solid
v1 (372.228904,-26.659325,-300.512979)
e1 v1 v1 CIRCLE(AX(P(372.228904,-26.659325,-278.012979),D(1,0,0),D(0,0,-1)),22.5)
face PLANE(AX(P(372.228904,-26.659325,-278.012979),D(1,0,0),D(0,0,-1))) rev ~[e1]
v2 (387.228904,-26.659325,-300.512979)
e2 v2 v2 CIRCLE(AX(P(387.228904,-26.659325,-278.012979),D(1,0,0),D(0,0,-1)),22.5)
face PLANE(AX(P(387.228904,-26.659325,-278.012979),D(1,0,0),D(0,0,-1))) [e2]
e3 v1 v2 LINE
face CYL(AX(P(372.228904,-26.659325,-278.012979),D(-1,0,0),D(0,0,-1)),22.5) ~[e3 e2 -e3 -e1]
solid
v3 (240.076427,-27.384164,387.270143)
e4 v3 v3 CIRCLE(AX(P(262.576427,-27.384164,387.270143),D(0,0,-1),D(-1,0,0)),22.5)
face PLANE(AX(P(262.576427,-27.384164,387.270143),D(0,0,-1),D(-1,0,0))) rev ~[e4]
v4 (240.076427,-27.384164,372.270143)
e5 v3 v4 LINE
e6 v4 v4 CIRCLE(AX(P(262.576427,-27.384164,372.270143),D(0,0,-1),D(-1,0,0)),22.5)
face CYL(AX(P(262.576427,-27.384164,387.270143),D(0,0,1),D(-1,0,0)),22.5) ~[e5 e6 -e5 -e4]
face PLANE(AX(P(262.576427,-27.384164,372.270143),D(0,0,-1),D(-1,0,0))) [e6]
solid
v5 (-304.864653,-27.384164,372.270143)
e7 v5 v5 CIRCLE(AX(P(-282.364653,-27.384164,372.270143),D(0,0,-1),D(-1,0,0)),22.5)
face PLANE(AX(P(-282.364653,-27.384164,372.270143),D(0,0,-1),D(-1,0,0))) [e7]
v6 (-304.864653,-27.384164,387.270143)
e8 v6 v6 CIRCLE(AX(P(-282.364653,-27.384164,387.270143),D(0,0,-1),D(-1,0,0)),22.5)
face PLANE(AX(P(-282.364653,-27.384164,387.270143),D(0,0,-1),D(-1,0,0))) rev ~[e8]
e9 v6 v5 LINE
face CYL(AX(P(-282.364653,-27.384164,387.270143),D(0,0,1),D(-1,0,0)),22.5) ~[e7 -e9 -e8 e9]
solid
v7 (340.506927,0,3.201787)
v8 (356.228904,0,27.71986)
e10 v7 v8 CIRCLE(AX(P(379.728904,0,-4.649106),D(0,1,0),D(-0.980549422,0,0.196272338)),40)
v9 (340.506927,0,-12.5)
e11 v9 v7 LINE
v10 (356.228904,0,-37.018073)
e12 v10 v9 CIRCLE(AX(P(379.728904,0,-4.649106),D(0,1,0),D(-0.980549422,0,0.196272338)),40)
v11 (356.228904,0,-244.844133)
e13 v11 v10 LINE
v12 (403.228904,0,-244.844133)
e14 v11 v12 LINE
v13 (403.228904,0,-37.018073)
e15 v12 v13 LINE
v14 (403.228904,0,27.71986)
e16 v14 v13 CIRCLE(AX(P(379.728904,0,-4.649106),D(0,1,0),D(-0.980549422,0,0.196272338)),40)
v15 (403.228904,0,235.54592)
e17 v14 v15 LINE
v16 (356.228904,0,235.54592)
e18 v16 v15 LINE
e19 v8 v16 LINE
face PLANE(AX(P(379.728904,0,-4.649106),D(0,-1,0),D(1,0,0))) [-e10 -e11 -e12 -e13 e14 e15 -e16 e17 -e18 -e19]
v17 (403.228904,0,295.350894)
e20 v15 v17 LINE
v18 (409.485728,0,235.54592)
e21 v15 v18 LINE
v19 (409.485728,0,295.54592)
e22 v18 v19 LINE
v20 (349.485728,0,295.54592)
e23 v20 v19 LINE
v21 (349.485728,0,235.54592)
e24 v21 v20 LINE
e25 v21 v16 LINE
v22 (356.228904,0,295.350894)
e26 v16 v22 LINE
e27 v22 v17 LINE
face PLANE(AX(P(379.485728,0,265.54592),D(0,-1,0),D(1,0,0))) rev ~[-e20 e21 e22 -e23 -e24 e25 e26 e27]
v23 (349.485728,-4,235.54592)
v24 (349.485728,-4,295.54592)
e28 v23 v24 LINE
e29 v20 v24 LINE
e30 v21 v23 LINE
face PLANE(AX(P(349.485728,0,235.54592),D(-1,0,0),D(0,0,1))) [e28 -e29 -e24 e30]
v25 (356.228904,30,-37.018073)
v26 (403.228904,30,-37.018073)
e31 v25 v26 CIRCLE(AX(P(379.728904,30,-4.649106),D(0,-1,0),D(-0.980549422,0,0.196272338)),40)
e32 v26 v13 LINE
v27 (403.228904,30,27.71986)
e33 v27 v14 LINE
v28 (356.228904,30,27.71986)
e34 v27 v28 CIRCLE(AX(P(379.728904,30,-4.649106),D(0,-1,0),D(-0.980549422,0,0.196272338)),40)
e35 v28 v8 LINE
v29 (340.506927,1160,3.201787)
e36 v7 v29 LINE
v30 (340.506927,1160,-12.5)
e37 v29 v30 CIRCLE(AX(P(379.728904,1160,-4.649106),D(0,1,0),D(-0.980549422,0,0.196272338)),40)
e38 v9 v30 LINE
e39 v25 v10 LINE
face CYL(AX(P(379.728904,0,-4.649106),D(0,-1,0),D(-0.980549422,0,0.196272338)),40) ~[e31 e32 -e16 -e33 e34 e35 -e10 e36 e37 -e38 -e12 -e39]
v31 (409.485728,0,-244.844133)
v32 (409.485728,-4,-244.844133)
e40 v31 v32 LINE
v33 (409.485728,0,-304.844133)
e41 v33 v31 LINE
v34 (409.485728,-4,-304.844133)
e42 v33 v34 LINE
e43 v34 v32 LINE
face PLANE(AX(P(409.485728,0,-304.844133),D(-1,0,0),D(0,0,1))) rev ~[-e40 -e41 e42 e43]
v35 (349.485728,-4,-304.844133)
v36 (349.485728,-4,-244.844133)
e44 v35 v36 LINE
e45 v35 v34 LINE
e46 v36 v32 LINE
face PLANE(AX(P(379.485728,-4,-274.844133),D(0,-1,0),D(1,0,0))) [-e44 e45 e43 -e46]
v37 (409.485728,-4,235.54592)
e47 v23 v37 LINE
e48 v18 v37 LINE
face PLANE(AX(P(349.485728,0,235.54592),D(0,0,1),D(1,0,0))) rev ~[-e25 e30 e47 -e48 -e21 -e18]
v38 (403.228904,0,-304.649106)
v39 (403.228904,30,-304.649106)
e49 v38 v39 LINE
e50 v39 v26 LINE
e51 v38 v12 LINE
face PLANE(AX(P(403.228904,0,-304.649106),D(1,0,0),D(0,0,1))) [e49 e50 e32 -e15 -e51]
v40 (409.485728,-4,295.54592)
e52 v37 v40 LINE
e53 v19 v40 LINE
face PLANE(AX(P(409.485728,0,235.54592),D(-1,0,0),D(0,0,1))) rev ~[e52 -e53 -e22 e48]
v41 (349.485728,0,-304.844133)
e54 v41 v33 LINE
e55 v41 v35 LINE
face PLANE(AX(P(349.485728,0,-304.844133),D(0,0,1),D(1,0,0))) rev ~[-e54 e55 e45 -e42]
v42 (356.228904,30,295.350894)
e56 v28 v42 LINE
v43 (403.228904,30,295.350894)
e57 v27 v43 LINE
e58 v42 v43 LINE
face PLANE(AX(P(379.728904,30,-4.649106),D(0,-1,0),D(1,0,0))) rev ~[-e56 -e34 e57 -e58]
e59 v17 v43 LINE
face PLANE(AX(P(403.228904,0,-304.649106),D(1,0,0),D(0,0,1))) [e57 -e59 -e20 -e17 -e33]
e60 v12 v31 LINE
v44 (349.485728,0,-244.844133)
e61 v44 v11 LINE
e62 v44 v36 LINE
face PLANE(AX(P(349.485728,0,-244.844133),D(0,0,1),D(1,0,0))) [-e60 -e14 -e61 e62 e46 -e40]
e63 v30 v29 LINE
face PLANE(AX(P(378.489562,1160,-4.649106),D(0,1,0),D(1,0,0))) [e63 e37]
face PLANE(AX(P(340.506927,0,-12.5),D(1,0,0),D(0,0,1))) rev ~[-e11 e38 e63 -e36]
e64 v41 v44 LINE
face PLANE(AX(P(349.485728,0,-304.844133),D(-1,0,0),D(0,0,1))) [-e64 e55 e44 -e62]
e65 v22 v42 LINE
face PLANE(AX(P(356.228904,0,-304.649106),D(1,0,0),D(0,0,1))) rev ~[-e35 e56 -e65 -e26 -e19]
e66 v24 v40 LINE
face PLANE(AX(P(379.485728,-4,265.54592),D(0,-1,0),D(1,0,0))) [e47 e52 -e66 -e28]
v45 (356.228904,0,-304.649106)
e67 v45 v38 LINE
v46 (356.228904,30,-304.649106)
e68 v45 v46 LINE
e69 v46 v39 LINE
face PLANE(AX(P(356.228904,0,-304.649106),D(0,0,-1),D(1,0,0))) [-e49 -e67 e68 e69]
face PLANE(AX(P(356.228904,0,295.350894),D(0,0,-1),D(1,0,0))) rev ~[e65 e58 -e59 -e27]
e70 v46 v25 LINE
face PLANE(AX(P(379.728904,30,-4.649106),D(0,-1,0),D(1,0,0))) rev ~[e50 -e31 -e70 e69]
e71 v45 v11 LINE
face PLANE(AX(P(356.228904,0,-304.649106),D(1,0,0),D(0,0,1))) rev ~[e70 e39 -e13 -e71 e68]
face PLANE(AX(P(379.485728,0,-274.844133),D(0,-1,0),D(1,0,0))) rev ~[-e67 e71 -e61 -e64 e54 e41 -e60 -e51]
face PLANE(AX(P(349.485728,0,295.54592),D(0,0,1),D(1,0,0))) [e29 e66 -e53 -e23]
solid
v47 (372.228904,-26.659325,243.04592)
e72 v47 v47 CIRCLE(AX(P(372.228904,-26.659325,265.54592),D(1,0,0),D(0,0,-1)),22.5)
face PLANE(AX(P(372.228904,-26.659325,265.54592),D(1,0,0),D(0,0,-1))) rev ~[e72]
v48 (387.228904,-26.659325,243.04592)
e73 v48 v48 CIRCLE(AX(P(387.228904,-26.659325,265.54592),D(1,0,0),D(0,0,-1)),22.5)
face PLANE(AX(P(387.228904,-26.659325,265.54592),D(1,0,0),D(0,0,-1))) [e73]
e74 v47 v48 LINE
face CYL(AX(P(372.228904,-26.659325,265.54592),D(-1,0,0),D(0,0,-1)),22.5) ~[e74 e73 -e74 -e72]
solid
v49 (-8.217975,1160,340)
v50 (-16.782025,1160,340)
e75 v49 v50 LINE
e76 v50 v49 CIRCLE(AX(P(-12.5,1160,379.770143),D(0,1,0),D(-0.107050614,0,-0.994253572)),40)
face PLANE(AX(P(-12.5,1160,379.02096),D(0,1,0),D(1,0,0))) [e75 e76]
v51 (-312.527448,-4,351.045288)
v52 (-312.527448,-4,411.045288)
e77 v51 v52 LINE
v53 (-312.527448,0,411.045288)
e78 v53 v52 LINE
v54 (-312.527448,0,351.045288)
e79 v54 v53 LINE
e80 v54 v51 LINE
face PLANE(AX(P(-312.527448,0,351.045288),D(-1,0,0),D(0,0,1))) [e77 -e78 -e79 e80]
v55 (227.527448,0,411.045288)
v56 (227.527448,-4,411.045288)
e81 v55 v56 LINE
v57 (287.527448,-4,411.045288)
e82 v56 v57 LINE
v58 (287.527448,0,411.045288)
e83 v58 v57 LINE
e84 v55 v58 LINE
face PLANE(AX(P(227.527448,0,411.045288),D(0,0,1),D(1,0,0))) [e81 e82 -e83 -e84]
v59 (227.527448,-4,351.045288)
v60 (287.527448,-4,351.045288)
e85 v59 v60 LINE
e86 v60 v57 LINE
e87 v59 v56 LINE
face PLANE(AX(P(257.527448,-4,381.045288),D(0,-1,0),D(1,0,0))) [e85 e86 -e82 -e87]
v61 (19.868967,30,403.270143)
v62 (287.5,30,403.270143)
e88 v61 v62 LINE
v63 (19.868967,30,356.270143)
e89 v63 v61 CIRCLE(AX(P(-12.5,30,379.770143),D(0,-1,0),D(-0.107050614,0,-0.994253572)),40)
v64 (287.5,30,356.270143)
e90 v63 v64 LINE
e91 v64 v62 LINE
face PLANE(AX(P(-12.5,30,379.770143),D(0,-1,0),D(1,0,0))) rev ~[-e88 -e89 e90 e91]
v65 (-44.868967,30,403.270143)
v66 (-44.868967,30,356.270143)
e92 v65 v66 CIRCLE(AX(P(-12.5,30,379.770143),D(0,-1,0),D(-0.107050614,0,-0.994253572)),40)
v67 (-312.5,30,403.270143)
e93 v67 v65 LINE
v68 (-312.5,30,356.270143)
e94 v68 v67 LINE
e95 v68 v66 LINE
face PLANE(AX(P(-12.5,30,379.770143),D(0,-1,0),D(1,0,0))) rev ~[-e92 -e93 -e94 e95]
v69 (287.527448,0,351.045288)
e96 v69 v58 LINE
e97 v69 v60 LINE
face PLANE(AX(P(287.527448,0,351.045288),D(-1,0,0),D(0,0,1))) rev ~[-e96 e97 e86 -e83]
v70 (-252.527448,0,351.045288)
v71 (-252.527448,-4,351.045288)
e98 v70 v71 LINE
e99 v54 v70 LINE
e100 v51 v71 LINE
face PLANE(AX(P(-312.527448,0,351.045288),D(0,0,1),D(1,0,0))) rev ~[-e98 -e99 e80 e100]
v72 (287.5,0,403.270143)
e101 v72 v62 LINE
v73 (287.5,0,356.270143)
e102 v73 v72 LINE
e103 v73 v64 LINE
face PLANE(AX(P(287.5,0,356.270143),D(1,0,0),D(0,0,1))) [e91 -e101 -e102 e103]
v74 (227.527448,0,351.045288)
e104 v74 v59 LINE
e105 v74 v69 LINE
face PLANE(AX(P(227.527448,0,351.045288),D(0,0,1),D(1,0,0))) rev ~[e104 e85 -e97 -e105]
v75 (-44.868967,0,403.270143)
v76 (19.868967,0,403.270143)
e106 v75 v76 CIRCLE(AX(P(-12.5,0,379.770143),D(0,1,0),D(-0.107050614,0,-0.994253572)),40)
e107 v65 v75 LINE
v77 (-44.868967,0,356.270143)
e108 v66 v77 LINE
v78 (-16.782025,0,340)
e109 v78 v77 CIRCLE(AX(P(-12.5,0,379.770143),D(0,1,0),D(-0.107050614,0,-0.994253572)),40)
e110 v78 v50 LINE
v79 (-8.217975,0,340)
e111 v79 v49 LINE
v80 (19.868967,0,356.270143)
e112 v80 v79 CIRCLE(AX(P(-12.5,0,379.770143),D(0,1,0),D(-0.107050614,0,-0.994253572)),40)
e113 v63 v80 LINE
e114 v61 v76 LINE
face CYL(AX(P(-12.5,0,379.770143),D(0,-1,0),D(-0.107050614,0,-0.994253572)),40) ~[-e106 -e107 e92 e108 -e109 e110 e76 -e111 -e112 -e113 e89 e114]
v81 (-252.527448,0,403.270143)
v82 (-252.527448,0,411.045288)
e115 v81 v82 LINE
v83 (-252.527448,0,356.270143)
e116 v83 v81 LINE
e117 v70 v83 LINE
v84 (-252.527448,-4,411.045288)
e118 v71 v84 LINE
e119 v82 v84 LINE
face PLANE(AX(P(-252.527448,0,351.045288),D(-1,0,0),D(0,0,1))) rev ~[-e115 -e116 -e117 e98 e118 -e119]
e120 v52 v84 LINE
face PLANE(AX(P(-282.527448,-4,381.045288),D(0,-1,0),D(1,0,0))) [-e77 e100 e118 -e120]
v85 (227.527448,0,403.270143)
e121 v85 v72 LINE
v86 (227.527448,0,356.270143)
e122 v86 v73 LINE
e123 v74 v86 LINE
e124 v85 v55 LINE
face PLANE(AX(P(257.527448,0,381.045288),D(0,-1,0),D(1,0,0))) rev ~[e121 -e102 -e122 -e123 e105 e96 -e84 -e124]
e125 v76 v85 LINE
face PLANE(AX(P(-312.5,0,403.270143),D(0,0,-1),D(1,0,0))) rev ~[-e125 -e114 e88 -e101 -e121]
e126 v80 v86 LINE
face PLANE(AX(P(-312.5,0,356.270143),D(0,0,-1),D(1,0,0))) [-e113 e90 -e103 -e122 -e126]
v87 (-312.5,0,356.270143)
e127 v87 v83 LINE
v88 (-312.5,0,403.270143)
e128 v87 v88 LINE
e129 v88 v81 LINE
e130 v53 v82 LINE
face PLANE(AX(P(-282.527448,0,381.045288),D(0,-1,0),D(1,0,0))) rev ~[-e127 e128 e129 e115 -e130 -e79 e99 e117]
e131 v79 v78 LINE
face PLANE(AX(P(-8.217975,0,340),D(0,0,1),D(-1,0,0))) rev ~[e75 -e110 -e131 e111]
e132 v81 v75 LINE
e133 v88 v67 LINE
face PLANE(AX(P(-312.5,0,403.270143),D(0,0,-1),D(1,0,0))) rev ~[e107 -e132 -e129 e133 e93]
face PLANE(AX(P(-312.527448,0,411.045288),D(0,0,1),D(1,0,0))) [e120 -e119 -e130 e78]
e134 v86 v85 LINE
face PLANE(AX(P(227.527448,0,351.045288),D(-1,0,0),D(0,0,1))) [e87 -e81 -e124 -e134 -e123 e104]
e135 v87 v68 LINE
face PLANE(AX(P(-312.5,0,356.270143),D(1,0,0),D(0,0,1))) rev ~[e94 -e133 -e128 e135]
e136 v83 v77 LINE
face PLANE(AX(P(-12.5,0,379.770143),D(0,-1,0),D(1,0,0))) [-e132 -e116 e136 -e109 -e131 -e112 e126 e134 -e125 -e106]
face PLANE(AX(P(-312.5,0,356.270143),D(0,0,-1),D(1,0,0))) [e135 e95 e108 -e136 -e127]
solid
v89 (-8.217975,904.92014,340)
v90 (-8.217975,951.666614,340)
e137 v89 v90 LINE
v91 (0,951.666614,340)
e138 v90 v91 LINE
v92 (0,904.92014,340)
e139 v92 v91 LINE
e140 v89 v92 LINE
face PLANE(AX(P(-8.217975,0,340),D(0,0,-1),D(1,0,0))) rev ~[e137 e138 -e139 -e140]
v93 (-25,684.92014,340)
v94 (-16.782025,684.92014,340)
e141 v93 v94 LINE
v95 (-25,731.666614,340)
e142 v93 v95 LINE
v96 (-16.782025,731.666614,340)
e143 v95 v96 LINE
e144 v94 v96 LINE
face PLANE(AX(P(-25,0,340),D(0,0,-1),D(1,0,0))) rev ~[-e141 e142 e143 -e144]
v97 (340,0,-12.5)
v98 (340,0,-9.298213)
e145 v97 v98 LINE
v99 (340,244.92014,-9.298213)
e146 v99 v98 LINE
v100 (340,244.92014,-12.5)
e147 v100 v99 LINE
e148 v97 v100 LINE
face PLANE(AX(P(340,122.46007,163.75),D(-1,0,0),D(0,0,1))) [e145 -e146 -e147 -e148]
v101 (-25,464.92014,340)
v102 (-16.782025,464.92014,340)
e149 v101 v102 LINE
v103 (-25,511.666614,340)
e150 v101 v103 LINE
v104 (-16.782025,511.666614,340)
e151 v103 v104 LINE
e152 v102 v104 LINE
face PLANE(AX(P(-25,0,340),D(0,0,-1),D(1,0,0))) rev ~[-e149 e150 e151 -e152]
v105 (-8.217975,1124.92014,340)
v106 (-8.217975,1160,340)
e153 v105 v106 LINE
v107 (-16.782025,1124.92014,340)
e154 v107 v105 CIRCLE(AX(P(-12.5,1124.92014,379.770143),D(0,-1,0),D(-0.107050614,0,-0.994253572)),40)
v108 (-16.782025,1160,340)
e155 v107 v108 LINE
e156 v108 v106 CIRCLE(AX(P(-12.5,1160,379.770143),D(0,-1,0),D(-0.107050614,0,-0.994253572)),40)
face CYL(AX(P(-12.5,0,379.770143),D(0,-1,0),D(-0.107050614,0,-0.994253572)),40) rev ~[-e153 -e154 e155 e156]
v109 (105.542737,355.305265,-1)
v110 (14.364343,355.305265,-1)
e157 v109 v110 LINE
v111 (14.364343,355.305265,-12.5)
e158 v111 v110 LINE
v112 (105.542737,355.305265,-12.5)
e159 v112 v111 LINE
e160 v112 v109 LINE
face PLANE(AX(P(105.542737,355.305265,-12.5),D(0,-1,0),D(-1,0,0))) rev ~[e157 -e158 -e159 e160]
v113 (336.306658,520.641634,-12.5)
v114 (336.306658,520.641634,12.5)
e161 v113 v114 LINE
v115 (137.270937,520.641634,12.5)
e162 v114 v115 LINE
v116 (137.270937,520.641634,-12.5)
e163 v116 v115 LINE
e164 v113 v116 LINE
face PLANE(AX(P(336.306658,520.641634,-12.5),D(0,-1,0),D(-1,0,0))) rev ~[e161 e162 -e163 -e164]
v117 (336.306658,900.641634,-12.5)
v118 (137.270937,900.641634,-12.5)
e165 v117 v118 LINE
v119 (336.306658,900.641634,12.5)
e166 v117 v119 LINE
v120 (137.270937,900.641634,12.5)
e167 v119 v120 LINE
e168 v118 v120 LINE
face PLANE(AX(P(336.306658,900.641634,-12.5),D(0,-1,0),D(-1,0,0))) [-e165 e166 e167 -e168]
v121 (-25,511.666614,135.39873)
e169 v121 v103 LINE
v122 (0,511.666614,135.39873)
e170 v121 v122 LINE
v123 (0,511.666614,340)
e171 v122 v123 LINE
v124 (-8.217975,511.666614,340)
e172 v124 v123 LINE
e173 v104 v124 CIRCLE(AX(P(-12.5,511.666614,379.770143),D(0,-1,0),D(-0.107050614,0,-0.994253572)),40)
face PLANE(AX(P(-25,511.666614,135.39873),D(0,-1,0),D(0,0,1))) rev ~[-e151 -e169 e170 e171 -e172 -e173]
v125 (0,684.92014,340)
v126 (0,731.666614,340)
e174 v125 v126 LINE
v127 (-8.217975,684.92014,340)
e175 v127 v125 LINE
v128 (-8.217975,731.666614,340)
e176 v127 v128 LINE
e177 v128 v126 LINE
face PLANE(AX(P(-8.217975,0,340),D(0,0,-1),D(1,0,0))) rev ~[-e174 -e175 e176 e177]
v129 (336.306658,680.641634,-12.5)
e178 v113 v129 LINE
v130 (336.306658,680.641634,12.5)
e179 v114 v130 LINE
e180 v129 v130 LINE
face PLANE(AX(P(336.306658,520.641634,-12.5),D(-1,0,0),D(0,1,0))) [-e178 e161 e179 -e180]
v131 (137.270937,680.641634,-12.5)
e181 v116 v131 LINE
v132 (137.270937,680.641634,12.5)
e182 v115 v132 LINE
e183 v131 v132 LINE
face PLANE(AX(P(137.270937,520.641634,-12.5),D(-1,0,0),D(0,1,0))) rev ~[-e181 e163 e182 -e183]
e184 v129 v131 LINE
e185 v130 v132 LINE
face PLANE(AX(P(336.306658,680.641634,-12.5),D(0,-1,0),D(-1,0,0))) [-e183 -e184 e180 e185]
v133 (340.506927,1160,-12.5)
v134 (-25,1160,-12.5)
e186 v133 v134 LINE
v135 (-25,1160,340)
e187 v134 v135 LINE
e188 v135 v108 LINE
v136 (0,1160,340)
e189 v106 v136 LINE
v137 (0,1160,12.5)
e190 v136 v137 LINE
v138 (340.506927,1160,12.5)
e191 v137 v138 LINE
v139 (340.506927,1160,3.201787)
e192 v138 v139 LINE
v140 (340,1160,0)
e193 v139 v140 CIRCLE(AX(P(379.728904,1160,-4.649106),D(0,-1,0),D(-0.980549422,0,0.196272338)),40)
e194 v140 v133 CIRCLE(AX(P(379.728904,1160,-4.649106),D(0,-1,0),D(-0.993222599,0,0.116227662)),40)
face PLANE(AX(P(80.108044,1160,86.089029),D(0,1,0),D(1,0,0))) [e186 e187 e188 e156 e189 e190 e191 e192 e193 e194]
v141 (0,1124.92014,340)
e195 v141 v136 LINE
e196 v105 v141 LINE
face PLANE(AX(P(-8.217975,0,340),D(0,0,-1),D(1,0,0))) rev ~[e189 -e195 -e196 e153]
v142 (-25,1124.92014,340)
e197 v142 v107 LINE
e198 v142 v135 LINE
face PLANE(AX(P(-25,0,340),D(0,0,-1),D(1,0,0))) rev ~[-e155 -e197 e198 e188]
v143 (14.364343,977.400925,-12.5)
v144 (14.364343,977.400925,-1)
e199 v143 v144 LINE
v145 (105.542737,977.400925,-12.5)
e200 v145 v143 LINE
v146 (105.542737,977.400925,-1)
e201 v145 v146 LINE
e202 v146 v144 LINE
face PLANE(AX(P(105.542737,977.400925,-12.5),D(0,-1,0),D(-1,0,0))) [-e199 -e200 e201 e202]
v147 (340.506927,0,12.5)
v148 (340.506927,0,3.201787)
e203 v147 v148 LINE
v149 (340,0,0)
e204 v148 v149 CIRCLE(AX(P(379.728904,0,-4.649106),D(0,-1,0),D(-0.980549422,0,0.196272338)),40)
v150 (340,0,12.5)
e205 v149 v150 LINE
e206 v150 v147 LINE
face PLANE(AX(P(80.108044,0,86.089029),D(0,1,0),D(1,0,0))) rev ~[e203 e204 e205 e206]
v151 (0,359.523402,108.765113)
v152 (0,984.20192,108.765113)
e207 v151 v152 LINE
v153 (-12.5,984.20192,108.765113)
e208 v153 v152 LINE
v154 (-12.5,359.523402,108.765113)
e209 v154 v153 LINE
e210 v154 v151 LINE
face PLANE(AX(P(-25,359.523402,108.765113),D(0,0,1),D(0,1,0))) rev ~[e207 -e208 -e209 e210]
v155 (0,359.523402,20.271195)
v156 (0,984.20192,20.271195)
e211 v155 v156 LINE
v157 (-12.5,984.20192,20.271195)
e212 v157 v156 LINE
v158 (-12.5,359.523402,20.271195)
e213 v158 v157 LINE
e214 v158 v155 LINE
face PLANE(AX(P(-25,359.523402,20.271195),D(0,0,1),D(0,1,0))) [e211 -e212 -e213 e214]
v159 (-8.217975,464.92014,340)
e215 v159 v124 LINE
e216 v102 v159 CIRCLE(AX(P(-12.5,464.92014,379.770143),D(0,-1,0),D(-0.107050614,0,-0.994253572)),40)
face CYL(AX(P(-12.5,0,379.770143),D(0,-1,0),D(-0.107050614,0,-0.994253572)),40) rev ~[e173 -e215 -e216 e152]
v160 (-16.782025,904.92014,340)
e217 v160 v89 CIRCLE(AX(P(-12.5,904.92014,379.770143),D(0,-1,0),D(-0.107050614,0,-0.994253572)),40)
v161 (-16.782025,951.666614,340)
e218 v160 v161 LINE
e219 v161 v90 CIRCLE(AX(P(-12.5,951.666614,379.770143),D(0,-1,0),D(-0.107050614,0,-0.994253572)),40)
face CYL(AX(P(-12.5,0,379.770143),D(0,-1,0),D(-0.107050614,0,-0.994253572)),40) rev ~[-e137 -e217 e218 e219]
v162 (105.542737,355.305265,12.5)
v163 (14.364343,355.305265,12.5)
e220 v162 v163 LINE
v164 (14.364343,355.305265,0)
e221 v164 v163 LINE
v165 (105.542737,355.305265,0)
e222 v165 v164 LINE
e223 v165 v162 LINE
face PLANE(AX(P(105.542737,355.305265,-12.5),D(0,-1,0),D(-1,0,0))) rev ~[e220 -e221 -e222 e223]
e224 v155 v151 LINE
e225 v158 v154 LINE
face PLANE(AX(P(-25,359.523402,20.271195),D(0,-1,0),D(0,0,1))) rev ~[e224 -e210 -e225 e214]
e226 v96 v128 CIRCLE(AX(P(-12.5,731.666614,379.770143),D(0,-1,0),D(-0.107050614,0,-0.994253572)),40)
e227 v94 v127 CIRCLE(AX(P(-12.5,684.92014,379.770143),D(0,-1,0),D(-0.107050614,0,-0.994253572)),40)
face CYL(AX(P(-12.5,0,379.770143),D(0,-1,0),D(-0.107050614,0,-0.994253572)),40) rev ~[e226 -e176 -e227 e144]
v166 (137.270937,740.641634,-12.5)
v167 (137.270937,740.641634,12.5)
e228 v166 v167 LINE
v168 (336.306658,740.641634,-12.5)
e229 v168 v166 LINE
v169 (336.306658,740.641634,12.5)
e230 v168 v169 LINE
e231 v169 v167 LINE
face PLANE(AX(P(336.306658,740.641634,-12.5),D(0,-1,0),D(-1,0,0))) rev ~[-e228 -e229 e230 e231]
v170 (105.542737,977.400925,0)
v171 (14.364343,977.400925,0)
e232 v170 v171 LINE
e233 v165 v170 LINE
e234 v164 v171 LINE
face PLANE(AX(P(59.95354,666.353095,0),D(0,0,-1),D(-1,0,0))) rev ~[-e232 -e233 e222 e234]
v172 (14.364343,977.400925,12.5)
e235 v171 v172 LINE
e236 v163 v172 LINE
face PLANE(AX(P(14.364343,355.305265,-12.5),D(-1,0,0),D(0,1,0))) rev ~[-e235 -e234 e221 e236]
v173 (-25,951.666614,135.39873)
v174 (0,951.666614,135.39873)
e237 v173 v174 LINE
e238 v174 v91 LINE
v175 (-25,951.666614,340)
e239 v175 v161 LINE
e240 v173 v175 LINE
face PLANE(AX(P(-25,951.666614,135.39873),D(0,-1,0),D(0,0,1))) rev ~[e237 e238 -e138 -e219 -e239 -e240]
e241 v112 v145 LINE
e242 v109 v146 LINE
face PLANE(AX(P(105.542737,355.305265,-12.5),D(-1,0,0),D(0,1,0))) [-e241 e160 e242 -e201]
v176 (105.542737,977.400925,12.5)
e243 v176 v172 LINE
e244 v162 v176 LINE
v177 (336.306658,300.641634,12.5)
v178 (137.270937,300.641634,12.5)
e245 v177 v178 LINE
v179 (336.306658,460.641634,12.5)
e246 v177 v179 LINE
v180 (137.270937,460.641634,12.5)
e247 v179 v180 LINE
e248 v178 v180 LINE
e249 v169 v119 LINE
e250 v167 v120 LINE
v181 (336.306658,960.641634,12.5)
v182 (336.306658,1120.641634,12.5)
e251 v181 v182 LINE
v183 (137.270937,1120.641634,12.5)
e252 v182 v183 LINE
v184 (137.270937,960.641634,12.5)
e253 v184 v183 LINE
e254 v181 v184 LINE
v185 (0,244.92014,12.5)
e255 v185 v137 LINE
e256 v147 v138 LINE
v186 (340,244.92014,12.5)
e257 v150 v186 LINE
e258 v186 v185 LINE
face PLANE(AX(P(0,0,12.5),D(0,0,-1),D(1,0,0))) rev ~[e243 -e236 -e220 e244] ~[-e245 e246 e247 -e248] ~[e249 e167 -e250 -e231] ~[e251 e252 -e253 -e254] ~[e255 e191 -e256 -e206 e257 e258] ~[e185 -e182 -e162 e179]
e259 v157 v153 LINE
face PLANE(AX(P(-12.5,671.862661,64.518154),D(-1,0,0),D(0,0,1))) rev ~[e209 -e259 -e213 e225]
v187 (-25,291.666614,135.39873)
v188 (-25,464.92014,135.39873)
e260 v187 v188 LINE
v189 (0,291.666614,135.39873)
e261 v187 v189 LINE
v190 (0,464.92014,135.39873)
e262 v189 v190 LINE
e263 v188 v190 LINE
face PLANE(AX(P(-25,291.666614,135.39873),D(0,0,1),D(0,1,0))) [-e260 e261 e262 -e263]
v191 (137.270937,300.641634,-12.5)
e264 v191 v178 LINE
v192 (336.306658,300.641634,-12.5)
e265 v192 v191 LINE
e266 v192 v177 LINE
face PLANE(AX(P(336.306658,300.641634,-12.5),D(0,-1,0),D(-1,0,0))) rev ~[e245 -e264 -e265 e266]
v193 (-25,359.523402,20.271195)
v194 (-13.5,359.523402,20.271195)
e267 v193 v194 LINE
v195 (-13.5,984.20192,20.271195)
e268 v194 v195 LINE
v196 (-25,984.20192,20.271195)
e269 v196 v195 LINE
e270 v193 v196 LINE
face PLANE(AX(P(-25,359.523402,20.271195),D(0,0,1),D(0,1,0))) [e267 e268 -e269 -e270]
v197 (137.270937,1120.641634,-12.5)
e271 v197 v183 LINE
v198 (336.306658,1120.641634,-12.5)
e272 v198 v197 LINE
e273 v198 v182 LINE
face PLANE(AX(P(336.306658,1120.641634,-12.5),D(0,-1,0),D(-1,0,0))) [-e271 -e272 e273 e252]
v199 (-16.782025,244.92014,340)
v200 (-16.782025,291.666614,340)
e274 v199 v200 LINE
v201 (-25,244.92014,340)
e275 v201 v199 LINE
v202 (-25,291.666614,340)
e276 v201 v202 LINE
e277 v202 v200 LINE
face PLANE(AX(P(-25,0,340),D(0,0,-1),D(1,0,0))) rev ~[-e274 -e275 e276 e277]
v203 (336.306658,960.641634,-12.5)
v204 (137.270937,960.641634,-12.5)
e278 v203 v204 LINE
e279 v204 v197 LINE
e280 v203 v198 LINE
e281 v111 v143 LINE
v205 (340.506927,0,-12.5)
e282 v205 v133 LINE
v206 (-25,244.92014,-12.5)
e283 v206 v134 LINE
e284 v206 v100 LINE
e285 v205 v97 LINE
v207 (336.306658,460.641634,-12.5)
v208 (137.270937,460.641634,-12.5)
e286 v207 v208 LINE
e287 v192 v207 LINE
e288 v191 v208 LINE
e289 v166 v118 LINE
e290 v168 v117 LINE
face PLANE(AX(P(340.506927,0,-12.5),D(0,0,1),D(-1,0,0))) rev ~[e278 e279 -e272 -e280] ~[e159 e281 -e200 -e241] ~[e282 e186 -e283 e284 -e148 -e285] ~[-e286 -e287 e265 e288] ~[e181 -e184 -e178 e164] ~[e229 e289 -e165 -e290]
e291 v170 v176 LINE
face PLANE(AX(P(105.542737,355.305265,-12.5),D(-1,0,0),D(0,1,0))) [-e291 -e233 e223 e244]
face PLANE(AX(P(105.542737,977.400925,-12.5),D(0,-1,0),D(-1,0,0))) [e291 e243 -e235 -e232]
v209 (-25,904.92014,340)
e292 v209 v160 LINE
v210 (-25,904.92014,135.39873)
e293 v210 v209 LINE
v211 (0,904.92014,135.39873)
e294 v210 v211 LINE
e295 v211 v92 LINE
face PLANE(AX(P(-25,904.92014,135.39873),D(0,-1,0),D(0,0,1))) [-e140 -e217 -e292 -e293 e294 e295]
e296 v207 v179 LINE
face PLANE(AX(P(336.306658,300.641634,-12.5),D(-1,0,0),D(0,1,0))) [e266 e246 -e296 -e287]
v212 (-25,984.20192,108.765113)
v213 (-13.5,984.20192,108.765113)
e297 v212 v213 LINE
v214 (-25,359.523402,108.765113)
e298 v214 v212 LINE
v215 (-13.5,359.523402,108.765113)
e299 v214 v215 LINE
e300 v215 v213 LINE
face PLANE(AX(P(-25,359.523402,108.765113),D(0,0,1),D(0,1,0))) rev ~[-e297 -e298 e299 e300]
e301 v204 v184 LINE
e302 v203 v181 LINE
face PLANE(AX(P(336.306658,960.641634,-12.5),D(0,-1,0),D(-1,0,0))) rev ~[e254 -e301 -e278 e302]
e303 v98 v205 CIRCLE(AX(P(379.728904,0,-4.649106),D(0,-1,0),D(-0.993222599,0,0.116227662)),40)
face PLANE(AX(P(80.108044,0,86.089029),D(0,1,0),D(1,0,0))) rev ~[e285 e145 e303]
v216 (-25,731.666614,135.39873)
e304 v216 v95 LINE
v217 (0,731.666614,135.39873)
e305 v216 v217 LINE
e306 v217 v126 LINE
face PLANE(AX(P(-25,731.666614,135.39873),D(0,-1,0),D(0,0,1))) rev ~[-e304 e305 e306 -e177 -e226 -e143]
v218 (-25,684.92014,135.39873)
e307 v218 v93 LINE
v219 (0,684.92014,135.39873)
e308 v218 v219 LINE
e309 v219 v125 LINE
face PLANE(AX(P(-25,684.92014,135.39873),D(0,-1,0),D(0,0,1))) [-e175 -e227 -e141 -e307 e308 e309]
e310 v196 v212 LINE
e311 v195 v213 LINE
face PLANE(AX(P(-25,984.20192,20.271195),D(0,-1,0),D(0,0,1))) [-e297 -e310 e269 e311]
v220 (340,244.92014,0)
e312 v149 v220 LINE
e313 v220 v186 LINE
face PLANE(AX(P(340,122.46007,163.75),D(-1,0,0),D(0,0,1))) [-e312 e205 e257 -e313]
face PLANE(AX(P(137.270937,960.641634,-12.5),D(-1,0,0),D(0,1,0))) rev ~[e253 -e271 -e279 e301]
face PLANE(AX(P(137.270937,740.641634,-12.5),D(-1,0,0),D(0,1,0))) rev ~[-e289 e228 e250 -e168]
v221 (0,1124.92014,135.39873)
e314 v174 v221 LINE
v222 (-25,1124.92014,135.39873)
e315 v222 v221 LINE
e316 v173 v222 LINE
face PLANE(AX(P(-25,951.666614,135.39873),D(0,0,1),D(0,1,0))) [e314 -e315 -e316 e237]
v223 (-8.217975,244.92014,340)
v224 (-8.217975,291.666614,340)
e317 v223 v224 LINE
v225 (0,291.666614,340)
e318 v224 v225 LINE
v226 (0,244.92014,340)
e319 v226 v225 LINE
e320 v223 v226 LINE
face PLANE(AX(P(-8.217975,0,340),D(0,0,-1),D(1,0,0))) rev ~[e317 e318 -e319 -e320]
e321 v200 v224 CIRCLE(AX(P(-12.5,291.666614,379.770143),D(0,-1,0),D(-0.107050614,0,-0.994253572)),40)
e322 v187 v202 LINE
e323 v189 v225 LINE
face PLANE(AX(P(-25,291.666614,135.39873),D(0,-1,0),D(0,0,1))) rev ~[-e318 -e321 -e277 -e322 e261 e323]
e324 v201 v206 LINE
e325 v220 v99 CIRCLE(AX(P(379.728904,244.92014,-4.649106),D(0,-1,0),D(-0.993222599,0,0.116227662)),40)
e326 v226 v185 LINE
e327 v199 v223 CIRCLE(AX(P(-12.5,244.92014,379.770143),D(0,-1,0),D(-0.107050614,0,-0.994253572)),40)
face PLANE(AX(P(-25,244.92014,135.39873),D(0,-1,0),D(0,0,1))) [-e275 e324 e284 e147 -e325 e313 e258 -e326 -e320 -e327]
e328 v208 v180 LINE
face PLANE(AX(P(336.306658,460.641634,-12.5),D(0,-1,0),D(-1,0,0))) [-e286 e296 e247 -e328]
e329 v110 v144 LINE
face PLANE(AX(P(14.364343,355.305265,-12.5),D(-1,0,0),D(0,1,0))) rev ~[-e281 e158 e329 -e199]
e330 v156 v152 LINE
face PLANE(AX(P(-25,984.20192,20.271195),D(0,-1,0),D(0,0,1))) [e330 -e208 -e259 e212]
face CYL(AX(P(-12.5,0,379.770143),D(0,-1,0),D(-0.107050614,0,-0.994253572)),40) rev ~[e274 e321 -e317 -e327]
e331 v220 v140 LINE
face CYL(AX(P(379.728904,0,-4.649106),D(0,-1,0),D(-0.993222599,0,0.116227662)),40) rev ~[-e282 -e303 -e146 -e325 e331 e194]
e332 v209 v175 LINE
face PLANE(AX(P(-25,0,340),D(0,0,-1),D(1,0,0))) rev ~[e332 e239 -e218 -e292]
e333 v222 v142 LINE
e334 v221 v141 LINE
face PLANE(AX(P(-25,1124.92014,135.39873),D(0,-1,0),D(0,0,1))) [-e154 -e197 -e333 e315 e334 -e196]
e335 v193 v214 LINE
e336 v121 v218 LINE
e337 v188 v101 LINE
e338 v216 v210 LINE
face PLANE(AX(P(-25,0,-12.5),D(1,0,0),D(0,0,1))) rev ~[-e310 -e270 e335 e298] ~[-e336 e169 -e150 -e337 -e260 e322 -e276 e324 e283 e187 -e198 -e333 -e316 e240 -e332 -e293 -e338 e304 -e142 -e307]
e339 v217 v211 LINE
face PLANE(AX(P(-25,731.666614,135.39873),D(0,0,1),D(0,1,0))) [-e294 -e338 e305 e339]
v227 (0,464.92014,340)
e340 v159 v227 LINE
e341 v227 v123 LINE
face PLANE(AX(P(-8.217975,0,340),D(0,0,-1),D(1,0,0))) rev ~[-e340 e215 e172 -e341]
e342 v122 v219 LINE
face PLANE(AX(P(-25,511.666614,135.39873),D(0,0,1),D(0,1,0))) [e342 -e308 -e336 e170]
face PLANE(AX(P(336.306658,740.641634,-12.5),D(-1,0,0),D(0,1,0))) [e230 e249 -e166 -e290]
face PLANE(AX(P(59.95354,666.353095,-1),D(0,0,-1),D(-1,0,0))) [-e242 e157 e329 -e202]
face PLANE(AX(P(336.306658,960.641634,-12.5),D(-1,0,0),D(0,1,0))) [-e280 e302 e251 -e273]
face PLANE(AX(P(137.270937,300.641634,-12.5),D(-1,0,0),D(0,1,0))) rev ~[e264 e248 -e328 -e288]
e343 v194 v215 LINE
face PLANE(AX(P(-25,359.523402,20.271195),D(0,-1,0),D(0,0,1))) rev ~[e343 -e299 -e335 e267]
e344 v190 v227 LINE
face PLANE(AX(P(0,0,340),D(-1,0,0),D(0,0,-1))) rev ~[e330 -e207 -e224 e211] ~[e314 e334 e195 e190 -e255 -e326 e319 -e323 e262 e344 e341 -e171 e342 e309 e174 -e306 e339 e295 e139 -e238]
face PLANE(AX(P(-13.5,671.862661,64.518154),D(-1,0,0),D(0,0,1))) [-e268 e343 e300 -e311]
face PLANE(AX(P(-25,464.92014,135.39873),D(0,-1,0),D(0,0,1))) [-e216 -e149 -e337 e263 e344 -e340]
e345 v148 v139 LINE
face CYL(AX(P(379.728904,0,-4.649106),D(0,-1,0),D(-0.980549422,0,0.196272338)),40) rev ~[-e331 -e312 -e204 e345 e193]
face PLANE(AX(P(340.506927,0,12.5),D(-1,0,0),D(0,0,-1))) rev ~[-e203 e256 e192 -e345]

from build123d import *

# Parameters (mm, degrees)
SALIENTE_EXTRUIR1_DEPTH        = 1160
SALIENTE_EXTRUIR1_2_DEPTH      = 1160
SALIENTE_EXTRUIR1_3_DEPTH      = 1160
CROQUIS2_W                     = 204.601269718
CROQUIS2_H                     = 173.253526092
CORTAR_EXTRUIR1_DEPTH          = 150
MATRIZL1_COUNT                 = 5
MATRIZL1_PITCH                 = 220
CROQUIS3_W                     = 88.493917932
CROQUIS3_H                     = 624.678517467
CORTAR_EXTRUIR3_DEPTH          = 150
CROQUIS4_W                     = 91.178394865
CROQUIS4_H                     = 622.095660422
CORTAR_EXTRUIR4_DEPTH          = 150
CROQUIS5_W                     = 352.5
CROQUIS5_H                     = 244.920139752
CORTAR_EXTRUIR5_DEPTH          = 365
CROQUIS6_W                     = 199.035720847
CROQUIS6_H                     = 160
CORTAR_EXTRUIR6_DEPTH          = 365
MATRIZL2_COUNT                 = 4
MATRIZL2_PITCH                 = 220
CROQUIS7_W                     = 91.178394865
CROQUIS7_H                     = 622.095660422
SALIENTE_EXTRUIR2_DEPTH        = 1
CROQUIS8_W                     = 88.493917932
CROQUIS8_H                     = 624.678517467
SALIENTE_EXTRUIR3_DEPTH        = 1
CROQUIS9_W                     = 47
CROQUIS9_H                     = 600
CROQUIS9_W_2                   = 600
CROQUIS9_H_2                   = 47
SALIENTE_EXTRUIR4_DEPTH        = 30
CROQUIS10_W                    = 60
CROQUIS10_H                    = 60
SALIENTE_EXTRUIR5_DEPTH        = 4
SALIENTE_EXTRUIR6_DEPTH        = 7.5
SALIENTE_EXTRUIR6_DEPTH_BACK   = 7.5
CROQUIS11_R                    = 22.5
SALIENTE_EXTRUIR6_2_DEPTH      = 7.5
SALIENTE_EXTRUIR6_2_DEPTH_BACK = 7.5
SALIENTE_EXTRUIR7_DEPTH        = 7.5
SALIENTE_EXTRUIR7_DEPTH_BACK   = 7.5
CROQUIS12_R                    = 22.5
SALIENTE_EXTRUIR7_2_DEPTH      = 7.5
SALIENTE_EXTRUIR7_2_DEPTH_BACK = 7.5


with BuildPart() as part:
    # Croquis1 → Saliente-Extruir1 (new body)
    with BuildSketch(Plane(origin=(0, 0, 0), x_dir=(1, 0, 0), z_dir=(0, 1, 0))):
        with BuildLine():
            Line((0, -340), (0, -12.5))
            Line((0, -12.5), (340.50692706, -12.5))
            Line((340.50692706, -12.5), (340.50692706, -3.20178703))
            ThreePointArc((340.50692706, -3.20178703), (340.221015416, -1.606030904), (340, 0))
            ThreePointArc((340, 0), (339.761756236, 6.269940779), (340.50692706, 12.5))
            Line((340.50692706, 12.5), (-25, 12.5))
            Line((-25, 12.5), (-25, -340))
            Line((-25, -340), (-16.782024574, -340))
            ThreePointArc((-16.782024574, -340), (-12.5, -339.770142891), (-8.217975426, -340))
            Line((-8.217975426, -340), (0, -340))
        make_face()
    extrude(amount=SALIENTE_EXTRUIR1_DEPTH)

    # Croquis2 → Cortar-Extruir1 (cut)
    with BuildSketch(Plane.ZY.offset(25)):
        with Locations((237.699365141, 1038.293376706)):
            Rectangle(CROQUIS2_W, CROQUIS2_H)
    cortar_extruir1 = extrude(amount=-CORTAR_EXTRUIR1_DEPTH, mode=Mode.SUBTRACT)

    # MatrizL1: Cortar-Extruir1 ×5
    with Locations(*[(0, -i * MATRIZL1_PITCH, 0) for i in range(1, MATRIZL1_COUNT)]):
        add(cortar_extruir1, mode=Mode.SUBTRACT)

    # Croquis3 → Cortar-Extruir3 (cut)
    with BuildSketch(Plane.ZY.offset(25)):
        with Locations((64.518154315, 671.862661026)):
            Rectangle(CROQUIS3_W, CROQUIS3_H)
    extrude(amount=-CORTAR_EXTRUIR3_DEPTH, mode=Mode.SUBTRACT)

    # Croquis4 → Cortar-Extruir4 (cut)
    with BuildSketch(Plane(origin=(0, 0, -12.5), x_dir=(-1, 0, 0), z_dir=(0, 0, -1))):
        with Locations((-59.953539945, 666.353095055)):
            Rectangle(CROQUIS4_W, CROQUIS4_H)
    extrude(amount=-CORTAR_EXTRUIR4_DEPTH, mode=Mode.SUBTRACT)

    # Croquis5 → Cortar-Extruir5 (cut)
    with BuildSketch(Plane.ZY.offset(25)):
        with Locations((163.75, 122.460069876)):
            Rectangle(CROQUIS5_W, CROQUIS5_H)
    extrude(amount=-CORTAR_EXTRUIR5_DEPTH, mode=Mode.SUBTRACT)

    # Croquis6 → Cortar-Extruir6 (cut)
    with BuildSketch(Plane(origin=(0, 0, -12.5), x_dir=(-1, 0, 0), z_dir=(0, 0, -1))):
        with Locations((-236.788797545, 1040.641633994)):
            Rectangle(CROQUIS6_W, CROQUIS6_H)
    cortar_extruir6 = extrude(amount=-CORTAR_EXTRUIR6_DEPTH, mode=Mode.SUBTRACT)

    # MatrizL2: Cortar-Extruir6 ×4
    with Locations(*[(0, -i * MATRIZL2_PITCH, 0) for i in range(1, MATRIZL2_COUNT)]):
        add(cortar_extruir6, mode=Mode.SUBTRACT)

    # Croquis7 → Saliente-Extruir2 (add)
    with BuildSketch(Plane(origin=(0, 0, 0), x_dir=(-1, 0, 0), z_dir=(0, 0, -1))):
        with Locations((-59.953539945, 666.353095055)):
            Rectangle(CROQUIS7_W, CROQUIS7_H)
    extrude(amount=SALIENTE_EXTRUIR2_DEPTH)

    # Croquis8 → Saliente-Extruir3 (add)
    with BuildSketch(Plane.ZY.offset(12.5)):
        with Locations((64.518154315, 671.862661026)):
            Rectangle(CROQUIS8_W, CROQUIS8_H)
    extrude(amount=SALIENTE_EXTRUIR3_DEPTH)


with BuildPart() as body_2:
    # Croquis1 → Saliente-Extruir1 2 (new body)
    with BuildSketch(Plane(origin=(0, 0, 0), x_dir=(1, 0, 0), z_dir=(0, 1, 0))):
        with BuildLine():
            Line((340.50692706, 12.5), (340.50692706, -3.20178703))
            ThreePointArc((340.50692706, -3.20178703), (419.728903948, 4.649106485), (340.50692706, 12.5))
        make_face()
    extrude(amount=SALIENTE_EXTRUIR1_2_DEPTH)



with BuildPart() as body_3:
    # Croquis1 → Saliente-Extruir1 3 (new body)
    with BuildSketch(Plane(origin=(0, 0, 0), x_dir=(1, 0, 0), z_dir=(0, 1, 0))):
        with BuildLine():
            ThreePointArc((-16.782024574, -340), (-12.5, -419.770142891), (-8.217975426, -340))
            Line((-8.217975426, -340), (-16.782024574, -340))
        make_face()
    extrude(amount=SALIENTE_EXTRUIR1_3_DEPTH)


with BuildPart() as body_2_1:
    add(body_2.part)

    add(body_3.part)  # Saliente-Extruir4 merges body 3
    # Croquis9 → Saliente-Extruir4 (add)
    with BuildSketch(Plane.XZ):
        with Locations((379.728903948, -4.649106485)):
            Rectangle(CROQUIS9_W, CROQUIS9_H)
        with Locations((-12.5, 379.770142891)):
            Rectangle(CROQUIS9_W_2, CROQUIS9_H_2)
    extrude(amount=-SALIENTE_EXTRUIR4_DEPTH)

    # Croquis10 → Saliente-Extruir5 (add)
    with BuildSketch(Plane.XZ):
        with Locations((257.527448142, 381.045288358)):
            Rectangle(CROQUIS10_W, CROQUIS10_H)
        with Locations((-282.527448142, 381.045288358)):
            Rectangle(CROQUIS10_W, CROQUIS10_H)
        with Locations((379.48572828, 265.545919849)):
            Rectangle(CROQUIS10_W, CROQUIS10_H)
        with Locations((379.48572828, -274.844132819)):
            Rectangle(CROQUIS10_W, CROQUIS10_H)
    extrude(amount=SALIENTE_EXTRUIR5_DEPTH)


with BuildPart() as body_3_2:
    # Croquis11 → Saliente-Extruir6 (new, two sides: drawn at the far end of the back side and taken through both)
    with BuildSketch(Plane(origin=(0, 0, 379.770142891), x_dir=(-1, 0, 0), z_dir=(0, 0, -1)).offset(-SALIENTE_EXTRUIR6_DEPTH_BACK)):
        with Locations((282.364653356, -27.384163756)):
            Circle(CROQUIS11_R)
    extrude(amount=SALIENTE_EXTRUIR6_DEPTH + SALIENTE_EXTRUIR6_DEPTH_BACK)


with BuildPart() as body_4:
    # Croquis11 → Saliente-Extruir6 2 (new, two sides: drawn at the far end of the back side and taken through both)
    with BuildSketch(Plane(origin=(0, 0, 379.770142891), x_dir=(-1, 0, 0), z_dir=(0, 0, -1)).offset(-SALIENTE_EXTRUIR6_2_DEPTH_BACK)):
        with Locations((-262.576426654, -27.384163756)):
            Circle(CROQUIS11_R)
    extrude(amount=SALIENTE_EXTRUIR6_2_DEPTH + SALIENTE_EXTRUIR6_2_DEPTH_BACK)


with BuildPart() as body_5:
    # Croquis12 → Saliente-Extruir7 (new, two sides: drawn at the far end of the back side and taken through both)
    with BuildSketch(Plane(origin=(379.728903948, 0, 0), x_dir=(0, 0, -1), z_dir=(1, 0, 0)).offset(-SALIENTE_EXTRUIR7_DEPTH_BACK)):
        with Locations((-265.545919849, -26.659325153)):
            Circle(CROQUIS12_R)
    extrude(amount=SALIENTE_EXTRUIR7_DEPTH + SALIENTE_EXTRUIR7_DEPTH_BACK)


with BuildPart() as body_6:
    # Croquis12 → Saliente-Extruir7 2 (new, two sides: drawn at the far end of the back side and taken through both)
    with BuildSketch(Plane(origin=(379.728903948, 0, 0), x_dir=(0, 0, -1), z_dir=(1, 0, 0)).offset(-SALIENTE_EXTRUIR7_2_DEPTH_BACK)):
        with Locations((278.01297899, -26.659325153)):
            Circle(CROQUIS12_R)
    extrude(amount=SALIENTE_EXTRUIR7_2_DEPTH + SALIENTE_EXTRUIR7_2_DEPTH_BACK)


solid = Compound([part.part, body_2_1.part, body_3_2.part, body_4.part, body_5.part, body_6.part])
